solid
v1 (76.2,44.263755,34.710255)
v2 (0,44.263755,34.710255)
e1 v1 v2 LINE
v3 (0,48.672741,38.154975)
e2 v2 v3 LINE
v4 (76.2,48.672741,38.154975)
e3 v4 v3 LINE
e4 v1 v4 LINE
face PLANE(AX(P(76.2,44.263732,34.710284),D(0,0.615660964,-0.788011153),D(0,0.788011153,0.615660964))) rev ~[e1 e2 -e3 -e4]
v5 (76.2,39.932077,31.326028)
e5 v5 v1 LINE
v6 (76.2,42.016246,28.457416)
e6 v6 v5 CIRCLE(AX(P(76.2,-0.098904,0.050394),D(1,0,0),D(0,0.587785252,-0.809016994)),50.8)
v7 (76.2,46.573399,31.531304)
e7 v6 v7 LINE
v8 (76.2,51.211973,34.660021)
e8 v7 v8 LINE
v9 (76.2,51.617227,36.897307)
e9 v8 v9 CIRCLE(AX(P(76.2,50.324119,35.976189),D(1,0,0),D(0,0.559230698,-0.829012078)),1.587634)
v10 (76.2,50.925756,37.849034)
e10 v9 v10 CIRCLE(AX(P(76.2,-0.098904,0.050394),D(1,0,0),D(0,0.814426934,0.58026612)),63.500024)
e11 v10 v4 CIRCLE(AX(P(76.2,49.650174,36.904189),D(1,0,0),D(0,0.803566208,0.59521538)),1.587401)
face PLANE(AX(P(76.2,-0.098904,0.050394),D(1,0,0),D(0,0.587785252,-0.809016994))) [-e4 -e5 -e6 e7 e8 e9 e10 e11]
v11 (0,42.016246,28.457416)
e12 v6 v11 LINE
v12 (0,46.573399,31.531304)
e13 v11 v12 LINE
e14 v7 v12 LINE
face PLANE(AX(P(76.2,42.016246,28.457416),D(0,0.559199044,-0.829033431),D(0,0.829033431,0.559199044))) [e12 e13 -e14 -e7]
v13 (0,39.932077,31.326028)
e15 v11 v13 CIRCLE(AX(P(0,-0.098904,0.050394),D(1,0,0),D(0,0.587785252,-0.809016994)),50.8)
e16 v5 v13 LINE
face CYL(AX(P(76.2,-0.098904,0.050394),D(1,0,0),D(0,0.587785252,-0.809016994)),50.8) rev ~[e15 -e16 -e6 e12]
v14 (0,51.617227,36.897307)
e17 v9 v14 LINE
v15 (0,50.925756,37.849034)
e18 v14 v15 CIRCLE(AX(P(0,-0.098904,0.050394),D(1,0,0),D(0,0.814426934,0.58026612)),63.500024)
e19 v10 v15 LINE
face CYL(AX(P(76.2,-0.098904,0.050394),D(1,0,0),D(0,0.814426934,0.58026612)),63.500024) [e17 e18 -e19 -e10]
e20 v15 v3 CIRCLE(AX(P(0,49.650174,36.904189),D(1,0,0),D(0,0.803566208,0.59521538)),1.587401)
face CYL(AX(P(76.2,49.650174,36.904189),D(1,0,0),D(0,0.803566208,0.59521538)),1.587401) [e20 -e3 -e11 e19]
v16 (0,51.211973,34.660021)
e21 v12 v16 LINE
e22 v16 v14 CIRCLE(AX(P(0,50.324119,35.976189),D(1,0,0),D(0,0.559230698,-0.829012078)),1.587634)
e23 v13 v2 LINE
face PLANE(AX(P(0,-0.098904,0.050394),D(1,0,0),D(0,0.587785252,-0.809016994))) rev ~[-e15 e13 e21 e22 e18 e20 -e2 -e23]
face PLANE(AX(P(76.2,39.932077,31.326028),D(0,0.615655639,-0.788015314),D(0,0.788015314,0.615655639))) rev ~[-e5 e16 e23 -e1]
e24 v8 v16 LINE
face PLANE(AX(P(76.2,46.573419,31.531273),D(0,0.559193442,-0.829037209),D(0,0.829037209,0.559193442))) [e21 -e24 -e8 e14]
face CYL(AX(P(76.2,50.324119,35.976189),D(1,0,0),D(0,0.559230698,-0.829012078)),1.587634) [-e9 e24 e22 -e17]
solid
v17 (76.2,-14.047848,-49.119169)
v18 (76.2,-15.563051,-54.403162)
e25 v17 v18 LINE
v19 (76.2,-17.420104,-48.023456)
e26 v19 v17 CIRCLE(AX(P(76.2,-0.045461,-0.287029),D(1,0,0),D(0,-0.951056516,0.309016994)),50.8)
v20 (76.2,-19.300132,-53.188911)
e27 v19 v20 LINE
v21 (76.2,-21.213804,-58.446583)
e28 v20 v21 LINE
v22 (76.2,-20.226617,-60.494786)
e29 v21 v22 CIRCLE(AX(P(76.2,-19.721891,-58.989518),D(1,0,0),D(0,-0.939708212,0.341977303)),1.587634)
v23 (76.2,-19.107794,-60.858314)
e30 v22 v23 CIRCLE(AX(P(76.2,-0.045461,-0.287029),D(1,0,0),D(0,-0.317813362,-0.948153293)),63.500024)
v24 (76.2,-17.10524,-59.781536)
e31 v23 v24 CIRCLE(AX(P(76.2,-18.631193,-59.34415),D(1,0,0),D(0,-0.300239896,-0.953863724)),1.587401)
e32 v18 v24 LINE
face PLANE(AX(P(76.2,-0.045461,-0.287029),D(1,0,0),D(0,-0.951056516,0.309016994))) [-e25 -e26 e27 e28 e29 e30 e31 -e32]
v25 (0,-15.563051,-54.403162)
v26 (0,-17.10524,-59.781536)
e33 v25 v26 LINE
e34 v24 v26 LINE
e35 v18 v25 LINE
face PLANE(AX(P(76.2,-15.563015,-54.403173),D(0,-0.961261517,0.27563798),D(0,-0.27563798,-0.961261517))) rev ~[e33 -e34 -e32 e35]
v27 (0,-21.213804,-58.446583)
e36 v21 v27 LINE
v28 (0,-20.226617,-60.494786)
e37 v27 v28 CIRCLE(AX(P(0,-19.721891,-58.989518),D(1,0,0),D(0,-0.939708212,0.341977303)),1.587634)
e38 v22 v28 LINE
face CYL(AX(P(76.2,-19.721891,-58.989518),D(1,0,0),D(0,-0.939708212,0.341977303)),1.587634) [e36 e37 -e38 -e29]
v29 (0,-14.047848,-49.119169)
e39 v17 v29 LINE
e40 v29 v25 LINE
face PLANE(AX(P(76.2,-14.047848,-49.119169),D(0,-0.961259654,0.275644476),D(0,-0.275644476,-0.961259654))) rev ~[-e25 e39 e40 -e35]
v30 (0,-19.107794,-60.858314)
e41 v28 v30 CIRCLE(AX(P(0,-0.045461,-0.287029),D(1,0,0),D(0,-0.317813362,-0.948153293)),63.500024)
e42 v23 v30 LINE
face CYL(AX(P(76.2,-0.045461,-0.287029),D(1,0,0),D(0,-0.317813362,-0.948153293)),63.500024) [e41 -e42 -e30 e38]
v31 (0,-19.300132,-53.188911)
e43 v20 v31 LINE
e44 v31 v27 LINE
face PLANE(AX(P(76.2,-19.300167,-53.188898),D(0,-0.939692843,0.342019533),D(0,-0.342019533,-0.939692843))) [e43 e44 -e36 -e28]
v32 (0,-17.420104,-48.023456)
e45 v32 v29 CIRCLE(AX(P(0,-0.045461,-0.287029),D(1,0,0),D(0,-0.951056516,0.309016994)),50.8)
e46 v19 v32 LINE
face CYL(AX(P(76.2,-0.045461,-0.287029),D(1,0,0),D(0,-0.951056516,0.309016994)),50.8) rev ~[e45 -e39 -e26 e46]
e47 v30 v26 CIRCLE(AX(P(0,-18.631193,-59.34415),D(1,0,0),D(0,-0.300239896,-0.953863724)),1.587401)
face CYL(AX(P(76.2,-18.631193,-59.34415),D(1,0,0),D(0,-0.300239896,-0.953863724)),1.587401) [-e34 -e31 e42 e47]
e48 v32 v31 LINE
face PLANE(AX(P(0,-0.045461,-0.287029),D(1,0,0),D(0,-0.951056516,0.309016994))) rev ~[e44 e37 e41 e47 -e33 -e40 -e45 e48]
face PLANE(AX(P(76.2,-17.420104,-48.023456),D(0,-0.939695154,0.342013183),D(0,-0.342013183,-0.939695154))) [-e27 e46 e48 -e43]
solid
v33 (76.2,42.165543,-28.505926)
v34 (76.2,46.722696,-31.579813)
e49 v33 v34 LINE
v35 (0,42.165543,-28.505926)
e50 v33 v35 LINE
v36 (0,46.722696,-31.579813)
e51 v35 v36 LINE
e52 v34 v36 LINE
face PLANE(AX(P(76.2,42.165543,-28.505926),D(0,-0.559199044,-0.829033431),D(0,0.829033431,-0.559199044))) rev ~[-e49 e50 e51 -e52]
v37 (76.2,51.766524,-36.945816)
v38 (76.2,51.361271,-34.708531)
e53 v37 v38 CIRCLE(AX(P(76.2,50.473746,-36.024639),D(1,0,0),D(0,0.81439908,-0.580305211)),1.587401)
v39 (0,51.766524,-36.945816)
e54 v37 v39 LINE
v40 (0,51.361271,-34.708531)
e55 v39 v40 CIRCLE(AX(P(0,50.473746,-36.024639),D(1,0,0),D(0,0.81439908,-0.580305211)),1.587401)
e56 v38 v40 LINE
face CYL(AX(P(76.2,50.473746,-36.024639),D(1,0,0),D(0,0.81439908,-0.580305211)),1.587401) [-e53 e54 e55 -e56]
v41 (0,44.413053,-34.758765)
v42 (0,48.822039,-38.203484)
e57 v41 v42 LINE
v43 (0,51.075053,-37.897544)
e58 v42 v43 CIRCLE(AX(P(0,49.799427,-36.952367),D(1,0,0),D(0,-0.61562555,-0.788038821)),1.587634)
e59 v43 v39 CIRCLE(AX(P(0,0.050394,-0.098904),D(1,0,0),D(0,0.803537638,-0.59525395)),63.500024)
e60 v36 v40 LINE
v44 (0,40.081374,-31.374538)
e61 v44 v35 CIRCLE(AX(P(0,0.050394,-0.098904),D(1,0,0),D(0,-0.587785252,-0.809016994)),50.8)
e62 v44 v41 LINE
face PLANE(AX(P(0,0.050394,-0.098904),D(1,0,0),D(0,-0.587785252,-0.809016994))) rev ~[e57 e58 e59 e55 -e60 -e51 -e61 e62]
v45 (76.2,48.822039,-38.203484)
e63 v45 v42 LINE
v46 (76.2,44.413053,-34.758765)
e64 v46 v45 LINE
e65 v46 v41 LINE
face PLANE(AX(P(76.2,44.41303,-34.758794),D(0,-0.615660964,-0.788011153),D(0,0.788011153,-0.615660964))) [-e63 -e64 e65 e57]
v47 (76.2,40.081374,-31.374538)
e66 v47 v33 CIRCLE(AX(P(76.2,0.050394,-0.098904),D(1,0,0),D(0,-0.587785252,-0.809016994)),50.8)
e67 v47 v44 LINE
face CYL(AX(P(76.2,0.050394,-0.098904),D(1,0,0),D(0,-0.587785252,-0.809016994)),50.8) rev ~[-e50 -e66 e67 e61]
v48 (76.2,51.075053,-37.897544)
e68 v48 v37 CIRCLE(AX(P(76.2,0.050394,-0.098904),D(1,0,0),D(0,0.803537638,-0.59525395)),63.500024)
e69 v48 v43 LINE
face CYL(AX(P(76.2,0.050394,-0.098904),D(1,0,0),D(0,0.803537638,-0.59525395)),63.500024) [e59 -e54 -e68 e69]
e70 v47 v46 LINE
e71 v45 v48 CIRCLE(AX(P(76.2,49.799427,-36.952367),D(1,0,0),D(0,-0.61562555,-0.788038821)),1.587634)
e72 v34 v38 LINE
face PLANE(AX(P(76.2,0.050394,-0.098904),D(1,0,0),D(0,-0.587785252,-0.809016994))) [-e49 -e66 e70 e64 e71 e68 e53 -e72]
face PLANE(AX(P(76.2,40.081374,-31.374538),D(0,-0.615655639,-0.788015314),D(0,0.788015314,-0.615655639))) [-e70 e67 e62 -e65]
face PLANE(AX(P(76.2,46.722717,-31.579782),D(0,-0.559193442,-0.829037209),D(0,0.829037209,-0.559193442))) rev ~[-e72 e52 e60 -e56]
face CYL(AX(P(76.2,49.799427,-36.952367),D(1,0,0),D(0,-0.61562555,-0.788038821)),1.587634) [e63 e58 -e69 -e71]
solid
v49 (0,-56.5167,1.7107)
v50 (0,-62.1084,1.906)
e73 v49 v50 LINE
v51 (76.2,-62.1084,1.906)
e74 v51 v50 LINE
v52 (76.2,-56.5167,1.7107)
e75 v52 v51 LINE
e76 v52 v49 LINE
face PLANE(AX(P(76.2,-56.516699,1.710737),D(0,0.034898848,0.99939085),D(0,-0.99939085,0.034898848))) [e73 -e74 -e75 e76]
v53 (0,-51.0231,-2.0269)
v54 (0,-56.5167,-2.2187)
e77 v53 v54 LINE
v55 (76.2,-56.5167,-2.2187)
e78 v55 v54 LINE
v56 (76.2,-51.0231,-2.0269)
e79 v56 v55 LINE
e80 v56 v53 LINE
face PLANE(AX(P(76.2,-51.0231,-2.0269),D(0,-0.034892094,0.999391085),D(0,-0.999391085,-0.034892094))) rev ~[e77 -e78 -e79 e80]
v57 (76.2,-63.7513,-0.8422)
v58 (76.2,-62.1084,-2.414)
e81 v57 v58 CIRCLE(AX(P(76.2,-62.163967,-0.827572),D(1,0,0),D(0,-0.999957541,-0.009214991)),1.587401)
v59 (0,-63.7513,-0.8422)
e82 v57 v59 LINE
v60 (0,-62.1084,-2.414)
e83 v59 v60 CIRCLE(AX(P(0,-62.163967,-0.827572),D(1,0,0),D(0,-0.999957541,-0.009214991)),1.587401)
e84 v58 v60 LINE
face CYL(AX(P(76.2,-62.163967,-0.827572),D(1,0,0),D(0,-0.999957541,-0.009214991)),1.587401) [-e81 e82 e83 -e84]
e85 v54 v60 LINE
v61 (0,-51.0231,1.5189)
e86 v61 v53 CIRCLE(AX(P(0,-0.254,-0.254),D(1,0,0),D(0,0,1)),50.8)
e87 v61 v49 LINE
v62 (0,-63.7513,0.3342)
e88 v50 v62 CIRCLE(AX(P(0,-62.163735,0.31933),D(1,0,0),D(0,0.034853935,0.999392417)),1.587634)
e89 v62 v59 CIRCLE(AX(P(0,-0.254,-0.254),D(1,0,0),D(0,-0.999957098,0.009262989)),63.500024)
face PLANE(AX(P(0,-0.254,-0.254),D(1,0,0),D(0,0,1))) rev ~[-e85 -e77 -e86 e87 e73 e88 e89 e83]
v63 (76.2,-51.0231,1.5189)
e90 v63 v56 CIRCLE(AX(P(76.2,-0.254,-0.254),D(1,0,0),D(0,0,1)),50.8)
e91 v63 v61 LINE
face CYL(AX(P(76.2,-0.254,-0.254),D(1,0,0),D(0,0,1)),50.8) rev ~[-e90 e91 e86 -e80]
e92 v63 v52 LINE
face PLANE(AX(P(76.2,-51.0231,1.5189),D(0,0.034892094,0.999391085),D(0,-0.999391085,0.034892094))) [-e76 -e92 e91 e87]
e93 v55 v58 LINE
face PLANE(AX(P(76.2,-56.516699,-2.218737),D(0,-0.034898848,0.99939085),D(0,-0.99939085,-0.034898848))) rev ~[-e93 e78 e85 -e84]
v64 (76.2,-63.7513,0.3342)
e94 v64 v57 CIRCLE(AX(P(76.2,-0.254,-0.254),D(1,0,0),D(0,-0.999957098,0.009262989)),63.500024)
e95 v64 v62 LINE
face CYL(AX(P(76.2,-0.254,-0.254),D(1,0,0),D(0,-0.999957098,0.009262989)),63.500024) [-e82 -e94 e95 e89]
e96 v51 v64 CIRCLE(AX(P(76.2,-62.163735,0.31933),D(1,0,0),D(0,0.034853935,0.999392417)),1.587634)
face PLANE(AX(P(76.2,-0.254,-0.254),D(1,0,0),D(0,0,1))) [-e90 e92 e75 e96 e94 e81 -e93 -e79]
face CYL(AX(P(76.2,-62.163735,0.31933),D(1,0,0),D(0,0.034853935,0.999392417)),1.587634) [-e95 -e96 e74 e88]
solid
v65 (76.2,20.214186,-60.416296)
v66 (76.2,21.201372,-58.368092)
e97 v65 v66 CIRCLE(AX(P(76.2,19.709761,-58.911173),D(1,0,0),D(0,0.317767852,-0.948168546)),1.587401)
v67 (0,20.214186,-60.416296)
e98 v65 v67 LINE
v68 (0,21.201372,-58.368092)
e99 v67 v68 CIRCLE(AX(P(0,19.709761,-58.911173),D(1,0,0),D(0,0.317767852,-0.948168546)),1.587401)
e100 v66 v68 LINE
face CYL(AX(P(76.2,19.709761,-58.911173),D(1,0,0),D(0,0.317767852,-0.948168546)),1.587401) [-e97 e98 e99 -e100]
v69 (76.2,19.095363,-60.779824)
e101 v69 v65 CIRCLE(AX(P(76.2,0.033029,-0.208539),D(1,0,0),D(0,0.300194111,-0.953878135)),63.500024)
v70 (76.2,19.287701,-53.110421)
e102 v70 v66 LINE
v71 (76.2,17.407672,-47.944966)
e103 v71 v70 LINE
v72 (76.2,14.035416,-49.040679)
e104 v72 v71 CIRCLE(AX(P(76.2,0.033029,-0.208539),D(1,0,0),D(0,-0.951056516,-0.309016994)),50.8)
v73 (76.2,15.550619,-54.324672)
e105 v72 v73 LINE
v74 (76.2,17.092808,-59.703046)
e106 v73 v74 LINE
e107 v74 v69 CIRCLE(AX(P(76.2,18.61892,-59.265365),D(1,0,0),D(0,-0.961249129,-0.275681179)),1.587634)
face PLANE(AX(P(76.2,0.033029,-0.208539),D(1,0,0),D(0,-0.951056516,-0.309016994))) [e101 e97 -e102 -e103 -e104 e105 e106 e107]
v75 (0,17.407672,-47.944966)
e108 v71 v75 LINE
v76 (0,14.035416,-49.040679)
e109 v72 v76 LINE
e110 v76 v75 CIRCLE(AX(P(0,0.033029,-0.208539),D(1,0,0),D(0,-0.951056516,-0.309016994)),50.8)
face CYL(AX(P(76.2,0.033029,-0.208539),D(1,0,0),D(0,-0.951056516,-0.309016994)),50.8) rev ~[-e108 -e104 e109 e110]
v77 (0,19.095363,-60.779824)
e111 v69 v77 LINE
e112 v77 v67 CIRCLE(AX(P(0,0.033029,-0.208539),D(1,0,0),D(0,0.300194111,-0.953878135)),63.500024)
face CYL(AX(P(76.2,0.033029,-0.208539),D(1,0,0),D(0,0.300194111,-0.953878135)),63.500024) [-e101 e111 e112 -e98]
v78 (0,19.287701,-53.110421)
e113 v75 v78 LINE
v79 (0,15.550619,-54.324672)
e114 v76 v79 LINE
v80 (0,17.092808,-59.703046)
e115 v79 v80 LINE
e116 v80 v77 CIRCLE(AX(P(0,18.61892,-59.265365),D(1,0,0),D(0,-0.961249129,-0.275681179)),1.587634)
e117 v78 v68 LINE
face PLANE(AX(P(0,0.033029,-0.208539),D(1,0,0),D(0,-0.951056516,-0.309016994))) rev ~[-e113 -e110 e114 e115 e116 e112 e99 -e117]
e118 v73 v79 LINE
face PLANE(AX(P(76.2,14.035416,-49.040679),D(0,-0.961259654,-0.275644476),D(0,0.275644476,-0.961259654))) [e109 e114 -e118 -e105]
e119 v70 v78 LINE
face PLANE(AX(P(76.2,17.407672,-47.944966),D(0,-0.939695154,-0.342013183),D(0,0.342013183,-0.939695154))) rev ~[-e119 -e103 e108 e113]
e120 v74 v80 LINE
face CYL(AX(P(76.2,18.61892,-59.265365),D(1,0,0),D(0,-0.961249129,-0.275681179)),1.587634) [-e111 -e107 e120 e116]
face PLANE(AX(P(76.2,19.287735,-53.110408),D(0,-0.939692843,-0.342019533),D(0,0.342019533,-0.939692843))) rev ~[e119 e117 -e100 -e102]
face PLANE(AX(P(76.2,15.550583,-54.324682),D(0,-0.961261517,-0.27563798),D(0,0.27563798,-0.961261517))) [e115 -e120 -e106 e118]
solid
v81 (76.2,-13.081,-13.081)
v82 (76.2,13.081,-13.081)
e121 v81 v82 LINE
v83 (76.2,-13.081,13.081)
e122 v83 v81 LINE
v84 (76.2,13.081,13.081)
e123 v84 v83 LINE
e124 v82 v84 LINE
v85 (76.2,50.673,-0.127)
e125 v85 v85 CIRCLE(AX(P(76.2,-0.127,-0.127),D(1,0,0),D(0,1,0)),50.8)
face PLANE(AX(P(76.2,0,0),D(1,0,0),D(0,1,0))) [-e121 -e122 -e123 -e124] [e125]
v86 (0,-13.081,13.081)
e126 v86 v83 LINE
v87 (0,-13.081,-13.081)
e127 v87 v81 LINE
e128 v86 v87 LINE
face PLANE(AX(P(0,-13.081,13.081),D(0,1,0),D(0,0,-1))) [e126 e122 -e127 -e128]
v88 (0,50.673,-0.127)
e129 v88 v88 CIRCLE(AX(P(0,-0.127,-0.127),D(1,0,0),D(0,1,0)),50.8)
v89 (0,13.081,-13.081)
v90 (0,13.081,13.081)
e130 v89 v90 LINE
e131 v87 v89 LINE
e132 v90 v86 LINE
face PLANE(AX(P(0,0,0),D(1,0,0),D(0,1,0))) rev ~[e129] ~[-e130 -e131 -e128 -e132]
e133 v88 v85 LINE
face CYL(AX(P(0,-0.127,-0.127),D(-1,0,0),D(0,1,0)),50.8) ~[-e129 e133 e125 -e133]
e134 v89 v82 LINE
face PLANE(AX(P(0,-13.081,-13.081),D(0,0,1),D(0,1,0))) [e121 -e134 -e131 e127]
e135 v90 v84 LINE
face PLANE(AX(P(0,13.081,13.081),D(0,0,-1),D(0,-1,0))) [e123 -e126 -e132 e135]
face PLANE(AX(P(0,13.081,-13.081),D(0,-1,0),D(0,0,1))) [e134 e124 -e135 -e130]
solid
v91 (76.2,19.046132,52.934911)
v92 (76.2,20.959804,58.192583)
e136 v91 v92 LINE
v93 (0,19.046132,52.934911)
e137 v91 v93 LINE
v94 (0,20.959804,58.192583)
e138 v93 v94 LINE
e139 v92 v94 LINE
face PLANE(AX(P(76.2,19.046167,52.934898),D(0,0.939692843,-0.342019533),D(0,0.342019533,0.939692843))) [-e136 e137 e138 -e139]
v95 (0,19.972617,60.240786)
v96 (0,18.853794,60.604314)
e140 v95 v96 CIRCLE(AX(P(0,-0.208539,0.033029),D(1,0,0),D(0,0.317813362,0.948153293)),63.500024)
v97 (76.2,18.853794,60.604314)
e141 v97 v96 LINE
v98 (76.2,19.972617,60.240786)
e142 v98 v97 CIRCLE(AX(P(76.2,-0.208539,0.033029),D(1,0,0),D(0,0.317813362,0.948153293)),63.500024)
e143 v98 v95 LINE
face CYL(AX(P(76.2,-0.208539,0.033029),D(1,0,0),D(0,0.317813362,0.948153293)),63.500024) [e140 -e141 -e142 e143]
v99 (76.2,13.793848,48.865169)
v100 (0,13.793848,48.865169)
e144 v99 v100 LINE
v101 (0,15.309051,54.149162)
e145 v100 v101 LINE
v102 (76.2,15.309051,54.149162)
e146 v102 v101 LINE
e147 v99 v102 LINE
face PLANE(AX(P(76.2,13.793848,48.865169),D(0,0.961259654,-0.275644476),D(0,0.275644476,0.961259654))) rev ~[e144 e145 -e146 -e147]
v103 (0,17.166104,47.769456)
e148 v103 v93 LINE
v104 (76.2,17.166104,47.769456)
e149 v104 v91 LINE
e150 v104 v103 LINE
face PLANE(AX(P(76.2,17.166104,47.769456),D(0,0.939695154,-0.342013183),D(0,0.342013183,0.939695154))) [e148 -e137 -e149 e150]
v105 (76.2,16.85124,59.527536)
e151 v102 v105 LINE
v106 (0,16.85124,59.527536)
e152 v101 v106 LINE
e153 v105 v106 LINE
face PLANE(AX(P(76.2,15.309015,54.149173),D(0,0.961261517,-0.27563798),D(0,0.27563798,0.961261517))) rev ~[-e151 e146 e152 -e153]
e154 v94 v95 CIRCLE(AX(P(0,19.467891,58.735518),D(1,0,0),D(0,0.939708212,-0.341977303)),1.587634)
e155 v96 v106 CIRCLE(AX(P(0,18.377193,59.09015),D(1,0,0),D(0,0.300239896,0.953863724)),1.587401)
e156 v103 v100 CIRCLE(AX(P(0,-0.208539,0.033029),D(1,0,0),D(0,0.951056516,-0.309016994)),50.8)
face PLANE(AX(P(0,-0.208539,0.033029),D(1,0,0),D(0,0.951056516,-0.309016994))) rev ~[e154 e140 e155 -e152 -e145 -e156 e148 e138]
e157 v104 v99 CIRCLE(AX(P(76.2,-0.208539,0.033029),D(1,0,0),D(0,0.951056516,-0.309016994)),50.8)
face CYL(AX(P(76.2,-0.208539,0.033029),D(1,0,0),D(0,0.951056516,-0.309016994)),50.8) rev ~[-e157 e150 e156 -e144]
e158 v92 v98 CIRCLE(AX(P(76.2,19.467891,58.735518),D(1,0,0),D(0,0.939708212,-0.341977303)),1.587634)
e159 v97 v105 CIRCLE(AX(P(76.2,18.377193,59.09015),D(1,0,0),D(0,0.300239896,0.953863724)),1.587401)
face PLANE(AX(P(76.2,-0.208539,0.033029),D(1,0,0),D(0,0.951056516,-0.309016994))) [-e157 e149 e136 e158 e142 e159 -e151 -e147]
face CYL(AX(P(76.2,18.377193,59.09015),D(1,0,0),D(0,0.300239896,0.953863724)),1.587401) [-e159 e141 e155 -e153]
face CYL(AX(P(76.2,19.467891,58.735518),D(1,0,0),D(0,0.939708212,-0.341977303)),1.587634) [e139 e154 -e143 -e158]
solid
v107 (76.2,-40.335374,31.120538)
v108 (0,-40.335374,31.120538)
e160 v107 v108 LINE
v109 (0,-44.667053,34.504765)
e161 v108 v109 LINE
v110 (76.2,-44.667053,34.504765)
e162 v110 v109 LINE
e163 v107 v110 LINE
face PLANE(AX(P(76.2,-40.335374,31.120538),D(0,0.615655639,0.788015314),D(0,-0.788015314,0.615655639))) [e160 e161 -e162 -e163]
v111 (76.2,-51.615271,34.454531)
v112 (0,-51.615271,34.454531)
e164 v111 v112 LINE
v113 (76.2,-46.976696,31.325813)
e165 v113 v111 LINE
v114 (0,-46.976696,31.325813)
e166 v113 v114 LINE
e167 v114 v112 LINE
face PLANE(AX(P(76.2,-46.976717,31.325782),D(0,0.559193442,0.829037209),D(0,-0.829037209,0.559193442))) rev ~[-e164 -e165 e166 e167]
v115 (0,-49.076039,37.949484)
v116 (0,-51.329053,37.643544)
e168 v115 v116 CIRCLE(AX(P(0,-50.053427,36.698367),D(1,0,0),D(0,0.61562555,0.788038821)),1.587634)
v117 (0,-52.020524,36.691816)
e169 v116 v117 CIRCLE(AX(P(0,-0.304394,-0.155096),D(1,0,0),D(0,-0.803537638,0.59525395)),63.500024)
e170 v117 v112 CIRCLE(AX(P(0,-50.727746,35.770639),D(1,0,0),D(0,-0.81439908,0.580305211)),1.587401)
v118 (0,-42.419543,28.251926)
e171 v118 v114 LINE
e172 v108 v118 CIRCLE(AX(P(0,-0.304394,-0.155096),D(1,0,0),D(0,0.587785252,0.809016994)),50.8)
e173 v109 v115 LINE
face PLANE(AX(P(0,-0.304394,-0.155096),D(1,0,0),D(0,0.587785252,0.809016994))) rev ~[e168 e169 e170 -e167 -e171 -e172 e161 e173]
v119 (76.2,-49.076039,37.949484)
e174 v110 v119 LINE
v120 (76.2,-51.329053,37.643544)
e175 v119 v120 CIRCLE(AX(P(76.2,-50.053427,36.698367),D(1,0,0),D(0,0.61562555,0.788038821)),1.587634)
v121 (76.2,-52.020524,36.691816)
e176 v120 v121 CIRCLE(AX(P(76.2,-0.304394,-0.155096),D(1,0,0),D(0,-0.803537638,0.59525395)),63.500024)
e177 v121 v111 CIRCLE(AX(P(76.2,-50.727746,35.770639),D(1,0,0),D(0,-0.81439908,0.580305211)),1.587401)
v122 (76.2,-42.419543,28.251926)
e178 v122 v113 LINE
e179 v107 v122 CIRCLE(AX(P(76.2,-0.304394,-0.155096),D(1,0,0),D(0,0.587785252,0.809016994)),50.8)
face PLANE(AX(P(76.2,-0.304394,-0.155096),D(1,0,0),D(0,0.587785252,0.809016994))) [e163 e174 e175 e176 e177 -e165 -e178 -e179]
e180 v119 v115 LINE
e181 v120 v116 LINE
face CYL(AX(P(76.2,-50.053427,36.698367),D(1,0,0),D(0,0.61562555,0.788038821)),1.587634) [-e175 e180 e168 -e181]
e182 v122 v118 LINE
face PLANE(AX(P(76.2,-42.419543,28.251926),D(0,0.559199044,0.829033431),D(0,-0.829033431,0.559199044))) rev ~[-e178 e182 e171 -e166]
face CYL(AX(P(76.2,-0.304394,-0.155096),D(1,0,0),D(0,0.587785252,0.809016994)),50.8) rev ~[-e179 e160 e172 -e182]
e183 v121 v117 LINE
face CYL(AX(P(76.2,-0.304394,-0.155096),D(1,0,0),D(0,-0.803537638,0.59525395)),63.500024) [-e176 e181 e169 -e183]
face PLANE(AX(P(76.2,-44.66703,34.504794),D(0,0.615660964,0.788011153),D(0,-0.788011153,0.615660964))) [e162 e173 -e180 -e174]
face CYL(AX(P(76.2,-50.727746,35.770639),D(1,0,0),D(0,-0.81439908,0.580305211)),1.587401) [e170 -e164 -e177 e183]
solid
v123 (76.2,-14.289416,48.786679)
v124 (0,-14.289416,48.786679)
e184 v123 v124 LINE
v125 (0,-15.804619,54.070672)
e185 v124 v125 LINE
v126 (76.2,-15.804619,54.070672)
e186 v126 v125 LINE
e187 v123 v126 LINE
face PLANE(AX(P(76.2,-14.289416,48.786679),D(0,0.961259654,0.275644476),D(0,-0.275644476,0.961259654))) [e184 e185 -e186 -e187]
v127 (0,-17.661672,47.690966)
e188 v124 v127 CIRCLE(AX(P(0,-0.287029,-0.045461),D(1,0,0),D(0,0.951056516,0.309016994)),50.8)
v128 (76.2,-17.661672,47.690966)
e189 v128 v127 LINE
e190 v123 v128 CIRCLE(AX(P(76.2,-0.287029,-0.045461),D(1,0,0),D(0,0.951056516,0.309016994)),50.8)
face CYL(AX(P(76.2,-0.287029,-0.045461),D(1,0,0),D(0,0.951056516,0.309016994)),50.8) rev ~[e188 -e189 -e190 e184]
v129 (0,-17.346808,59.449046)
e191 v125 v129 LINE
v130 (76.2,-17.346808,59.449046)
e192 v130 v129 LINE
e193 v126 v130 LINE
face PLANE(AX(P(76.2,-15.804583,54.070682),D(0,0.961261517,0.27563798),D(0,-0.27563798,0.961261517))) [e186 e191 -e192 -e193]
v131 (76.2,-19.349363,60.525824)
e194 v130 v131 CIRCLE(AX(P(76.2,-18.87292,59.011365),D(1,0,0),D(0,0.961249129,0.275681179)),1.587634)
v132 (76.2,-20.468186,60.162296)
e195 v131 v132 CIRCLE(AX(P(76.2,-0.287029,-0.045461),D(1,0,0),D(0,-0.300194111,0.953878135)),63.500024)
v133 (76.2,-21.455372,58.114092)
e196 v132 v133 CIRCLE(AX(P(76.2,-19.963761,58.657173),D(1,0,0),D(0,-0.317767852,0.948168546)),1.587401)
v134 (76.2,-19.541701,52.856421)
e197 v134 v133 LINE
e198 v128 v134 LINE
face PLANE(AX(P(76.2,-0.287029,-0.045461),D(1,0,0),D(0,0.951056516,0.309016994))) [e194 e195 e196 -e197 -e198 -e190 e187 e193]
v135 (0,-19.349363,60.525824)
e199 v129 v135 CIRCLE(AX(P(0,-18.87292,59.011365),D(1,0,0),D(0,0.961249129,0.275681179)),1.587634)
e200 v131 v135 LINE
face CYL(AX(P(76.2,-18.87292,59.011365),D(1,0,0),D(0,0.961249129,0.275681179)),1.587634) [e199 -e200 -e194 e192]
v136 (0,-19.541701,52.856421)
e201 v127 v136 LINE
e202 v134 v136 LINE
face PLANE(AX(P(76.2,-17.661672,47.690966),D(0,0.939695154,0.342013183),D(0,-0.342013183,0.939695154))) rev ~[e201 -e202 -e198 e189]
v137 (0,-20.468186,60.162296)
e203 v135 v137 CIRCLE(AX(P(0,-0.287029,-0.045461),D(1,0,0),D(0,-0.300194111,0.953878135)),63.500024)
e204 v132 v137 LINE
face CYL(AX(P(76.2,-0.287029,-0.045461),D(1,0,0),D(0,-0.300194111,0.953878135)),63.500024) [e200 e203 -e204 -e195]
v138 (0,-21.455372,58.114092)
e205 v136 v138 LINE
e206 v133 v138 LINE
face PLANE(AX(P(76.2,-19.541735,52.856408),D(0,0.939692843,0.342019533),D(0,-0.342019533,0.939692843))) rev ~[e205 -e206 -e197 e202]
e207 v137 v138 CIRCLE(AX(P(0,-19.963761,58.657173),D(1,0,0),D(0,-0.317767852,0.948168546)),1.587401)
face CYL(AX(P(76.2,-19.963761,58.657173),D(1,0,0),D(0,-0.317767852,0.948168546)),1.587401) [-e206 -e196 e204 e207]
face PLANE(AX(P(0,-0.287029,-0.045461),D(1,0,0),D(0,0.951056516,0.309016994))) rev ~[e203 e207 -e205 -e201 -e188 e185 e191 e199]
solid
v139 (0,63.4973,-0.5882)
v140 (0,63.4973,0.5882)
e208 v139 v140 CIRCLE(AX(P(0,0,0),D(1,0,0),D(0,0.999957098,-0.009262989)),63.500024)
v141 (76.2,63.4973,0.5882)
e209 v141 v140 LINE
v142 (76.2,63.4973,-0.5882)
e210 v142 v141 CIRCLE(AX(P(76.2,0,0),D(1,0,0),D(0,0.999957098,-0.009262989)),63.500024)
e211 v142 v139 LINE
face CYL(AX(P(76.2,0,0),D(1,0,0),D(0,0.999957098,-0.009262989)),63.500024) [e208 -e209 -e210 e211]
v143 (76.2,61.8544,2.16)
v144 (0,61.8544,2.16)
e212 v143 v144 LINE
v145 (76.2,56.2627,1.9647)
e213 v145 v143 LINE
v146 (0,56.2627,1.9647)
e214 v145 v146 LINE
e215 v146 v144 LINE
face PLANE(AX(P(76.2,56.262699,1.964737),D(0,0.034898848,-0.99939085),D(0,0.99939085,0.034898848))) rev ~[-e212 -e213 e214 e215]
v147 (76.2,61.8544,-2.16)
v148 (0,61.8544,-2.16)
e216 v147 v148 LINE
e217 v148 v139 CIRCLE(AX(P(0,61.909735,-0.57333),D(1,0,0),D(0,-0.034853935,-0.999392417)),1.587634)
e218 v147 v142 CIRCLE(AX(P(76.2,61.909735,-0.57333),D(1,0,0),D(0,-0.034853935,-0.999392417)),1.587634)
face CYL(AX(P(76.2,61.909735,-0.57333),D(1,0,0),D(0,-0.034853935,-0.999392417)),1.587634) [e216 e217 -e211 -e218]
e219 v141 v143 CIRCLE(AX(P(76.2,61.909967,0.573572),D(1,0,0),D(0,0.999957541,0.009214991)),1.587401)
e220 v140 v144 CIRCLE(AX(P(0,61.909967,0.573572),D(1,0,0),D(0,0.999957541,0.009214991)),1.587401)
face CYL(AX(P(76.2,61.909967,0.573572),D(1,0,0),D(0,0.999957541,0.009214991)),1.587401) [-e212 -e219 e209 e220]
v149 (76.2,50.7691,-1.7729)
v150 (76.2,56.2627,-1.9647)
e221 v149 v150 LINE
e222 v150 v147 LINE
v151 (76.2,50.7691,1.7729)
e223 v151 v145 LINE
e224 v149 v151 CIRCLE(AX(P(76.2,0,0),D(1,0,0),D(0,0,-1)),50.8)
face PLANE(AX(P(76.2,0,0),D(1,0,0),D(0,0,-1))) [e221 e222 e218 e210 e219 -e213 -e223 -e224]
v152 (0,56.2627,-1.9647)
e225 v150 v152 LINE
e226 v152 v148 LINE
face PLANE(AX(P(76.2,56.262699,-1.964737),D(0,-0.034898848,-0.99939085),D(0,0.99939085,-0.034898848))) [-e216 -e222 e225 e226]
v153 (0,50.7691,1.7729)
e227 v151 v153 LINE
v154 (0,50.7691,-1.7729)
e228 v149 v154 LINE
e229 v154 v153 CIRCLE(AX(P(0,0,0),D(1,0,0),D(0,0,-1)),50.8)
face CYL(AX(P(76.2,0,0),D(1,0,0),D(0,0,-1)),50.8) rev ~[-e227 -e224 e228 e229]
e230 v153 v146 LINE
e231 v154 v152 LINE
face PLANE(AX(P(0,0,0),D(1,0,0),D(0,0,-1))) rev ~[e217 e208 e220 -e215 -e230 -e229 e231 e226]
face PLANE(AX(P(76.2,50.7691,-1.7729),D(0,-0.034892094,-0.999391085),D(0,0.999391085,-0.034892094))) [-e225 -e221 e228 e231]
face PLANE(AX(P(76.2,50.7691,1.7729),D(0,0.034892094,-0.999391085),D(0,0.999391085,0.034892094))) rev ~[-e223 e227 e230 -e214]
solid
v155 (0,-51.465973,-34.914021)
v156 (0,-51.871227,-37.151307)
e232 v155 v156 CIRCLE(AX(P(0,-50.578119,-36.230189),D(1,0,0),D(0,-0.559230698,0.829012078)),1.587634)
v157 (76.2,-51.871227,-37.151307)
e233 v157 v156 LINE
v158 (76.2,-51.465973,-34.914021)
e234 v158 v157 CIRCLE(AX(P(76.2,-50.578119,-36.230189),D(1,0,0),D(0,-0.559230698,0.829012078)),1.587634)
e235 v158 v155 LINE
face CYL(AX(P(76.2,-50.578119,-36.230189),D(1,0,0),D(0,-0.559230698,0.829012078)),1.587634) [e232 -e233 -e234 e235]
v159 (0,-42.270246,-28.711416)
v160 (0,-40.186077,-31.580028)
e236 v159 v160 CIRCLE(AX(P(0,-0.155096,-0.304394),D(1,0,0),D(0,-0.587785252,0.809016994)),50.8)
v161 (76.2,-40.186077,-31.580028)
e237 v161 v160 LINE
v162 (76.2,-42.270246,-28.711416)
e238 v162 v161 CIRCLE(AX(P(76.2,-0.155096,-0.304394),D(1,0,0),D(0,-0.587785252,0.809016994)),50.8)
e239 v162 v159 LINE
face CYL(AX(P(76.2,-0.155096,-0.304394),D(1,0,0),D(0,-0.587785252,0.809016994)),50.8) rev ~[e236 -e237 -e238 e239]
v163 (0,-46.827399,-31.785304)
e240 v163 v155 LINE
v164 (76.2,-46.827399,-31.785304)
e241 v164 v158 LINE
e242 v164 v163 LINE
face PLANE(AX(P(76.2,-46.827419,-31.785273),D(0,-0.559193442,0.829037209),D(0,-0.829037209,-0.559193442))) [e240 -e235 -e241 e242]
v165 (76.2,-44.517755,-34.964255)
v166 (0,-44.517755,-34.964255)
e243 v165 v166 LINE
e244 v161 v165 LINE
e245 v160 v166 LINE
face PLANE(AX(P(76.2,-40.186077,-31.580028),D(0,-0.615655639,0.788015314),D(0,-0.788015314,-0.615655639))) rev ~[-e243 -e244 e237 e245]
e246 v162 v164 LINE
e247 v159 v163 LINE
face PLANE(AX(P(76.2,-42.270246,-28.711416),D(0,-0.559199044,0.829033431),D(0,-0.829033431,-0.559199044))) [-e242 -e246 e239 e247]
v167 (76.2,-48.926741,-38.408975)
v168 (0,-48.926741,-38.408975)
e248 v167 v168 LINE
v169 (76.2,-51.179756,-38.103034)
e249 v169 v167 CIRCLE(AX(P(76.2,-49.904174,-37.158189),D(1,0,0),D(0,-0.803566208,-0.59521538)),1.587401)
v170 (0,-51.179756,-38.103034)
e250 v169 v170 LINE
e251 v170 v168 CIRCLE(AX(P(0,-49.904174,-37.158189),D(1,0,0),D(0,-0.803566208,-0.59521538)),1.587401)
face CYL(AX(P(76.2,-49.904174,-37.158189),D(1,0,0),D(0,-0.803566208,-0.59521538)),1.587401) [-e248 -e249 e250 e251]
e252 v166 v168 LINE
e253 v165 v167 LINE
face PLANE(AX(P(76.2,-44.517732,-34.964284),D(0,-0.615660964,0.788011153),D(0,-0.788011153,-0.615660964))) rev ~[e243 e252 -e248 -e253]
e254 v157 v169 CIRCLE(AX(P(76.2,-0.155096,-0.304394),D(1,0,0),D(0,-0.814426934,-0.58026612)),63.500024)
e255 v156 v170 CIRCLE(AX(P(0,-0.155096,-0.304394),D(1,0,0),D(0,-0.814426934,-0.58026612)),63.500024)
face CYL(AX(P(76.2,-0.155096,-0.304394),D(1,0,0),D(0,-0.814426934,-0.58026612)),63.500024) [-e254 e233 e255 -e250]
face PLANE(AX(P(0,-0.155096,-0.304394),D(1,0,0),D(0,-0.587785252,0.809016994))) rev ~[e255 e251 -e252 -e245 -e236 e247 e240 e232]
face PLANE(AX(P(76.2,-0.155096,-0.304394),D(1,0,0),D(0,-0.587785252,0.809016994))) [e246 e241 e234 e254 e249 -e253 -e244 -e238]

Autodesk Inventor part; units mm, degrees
ref_plane "YZ Plane" through (0, 0, 0) normal (1, 0, 0) x (0, 1, 0)
ref_plane "XZ Plane" through (0, 0, 0) normal (0, 1, 0) x (-1, 0, 0)
ref_plane "XY Plane" through (0, 0, 0) normal (0, 0, 1) x (1, 0, 0)
sketch "Sketch1" plane through (0, 0, 0) normal (1, 0, 0) x (0, 1, 0)
  circle A0 centre (-0.127, -0.127) radius 50.8
  line L0 (13.081, 13.081) -> (-13.081, 13.081)
  line L1 (-13.081, 13.081) -> (-13.081, -13.081)
  line L2 (-13.081, -13.081) -> (13.081, -13.081)
  line L3 (13.081, -13.081) -> (13.081, 13.081)
  dimension "d58" = 26.162
  dimension "d59" = 26.162
extrude "Extrusion1" add sketch "Sketch1" along normal blind 76.2
sketch "Sketch4" plane through (76.2, 0, 0) normal (1, 0, 0) x (0, 0, -1)
  line L0 (0, 0) -> (62.0637, 0) construction
  line L1 (0, 0) -> (66.7156, 0) construction
  line L2 (0, 0) -> (71.481, 0) construction
  line L3 (0, 0) -> (54.0079, 0) construction
  line L4 (0, 0) -> (54.0079, 0) construction
  line L5 (1.7729, 50.7691) -> (1.9647, 56.2627)
  line L6 (0, 0) -> (63.5387, 0) construction
  line L7 (-1.7729, 50.7691) -> (-1.9647, 56.2627)
  line L8 (0, 0) -> (61.9502, 0) construction
  arc A0 (0.5882, 63.4973) -> (-0.5882, 63.4973) centre (0, 0) ccw
  line L9 (1.7729, 50.7691) -> (2.16, 61.8544)
  line L10 (-1.7729, 50.7691) -> (-2.16, 61.8544)
  arc A1 (-0.5882, 63.4973) -> (-2.16, 61.8544) centre (-0.5735, 61.9098) ccw
  arc A2 (2.16, 61.8544) -> (0.5882, 63.4973) centre (0.5735, 61.9098) ccw
  circle A3 centre (0, 0) radius 50.8
  point P0 (1.9945, 57.1152)
  point P1 (-1.9945, 57.1152)
  point P2 (2.2161, 63.4613)
  point P3 (-2.2161, 63.4613)
  dimension "d52" = 127
  dimension "d53" = 1.5875
extrude "Extrusion4" add sketch "Sketch4" against normal blind 76.2 contours A3 L7 L10 A1 A0 A2 L9 L5
pattern_circular "Circular Pattern2" count 10 over 360 about axis through (0, -0.127, -0.127) along (1, 0, 0) of "Extrusion4"
sketch "Sketch5" plane through (76.2, -0.127, -0.127) normal (1, 0, 0) x (0, 0, -1)
  point P0 (-0.127, 0.127)
properties part number "220411 Large Rod Laddered"
